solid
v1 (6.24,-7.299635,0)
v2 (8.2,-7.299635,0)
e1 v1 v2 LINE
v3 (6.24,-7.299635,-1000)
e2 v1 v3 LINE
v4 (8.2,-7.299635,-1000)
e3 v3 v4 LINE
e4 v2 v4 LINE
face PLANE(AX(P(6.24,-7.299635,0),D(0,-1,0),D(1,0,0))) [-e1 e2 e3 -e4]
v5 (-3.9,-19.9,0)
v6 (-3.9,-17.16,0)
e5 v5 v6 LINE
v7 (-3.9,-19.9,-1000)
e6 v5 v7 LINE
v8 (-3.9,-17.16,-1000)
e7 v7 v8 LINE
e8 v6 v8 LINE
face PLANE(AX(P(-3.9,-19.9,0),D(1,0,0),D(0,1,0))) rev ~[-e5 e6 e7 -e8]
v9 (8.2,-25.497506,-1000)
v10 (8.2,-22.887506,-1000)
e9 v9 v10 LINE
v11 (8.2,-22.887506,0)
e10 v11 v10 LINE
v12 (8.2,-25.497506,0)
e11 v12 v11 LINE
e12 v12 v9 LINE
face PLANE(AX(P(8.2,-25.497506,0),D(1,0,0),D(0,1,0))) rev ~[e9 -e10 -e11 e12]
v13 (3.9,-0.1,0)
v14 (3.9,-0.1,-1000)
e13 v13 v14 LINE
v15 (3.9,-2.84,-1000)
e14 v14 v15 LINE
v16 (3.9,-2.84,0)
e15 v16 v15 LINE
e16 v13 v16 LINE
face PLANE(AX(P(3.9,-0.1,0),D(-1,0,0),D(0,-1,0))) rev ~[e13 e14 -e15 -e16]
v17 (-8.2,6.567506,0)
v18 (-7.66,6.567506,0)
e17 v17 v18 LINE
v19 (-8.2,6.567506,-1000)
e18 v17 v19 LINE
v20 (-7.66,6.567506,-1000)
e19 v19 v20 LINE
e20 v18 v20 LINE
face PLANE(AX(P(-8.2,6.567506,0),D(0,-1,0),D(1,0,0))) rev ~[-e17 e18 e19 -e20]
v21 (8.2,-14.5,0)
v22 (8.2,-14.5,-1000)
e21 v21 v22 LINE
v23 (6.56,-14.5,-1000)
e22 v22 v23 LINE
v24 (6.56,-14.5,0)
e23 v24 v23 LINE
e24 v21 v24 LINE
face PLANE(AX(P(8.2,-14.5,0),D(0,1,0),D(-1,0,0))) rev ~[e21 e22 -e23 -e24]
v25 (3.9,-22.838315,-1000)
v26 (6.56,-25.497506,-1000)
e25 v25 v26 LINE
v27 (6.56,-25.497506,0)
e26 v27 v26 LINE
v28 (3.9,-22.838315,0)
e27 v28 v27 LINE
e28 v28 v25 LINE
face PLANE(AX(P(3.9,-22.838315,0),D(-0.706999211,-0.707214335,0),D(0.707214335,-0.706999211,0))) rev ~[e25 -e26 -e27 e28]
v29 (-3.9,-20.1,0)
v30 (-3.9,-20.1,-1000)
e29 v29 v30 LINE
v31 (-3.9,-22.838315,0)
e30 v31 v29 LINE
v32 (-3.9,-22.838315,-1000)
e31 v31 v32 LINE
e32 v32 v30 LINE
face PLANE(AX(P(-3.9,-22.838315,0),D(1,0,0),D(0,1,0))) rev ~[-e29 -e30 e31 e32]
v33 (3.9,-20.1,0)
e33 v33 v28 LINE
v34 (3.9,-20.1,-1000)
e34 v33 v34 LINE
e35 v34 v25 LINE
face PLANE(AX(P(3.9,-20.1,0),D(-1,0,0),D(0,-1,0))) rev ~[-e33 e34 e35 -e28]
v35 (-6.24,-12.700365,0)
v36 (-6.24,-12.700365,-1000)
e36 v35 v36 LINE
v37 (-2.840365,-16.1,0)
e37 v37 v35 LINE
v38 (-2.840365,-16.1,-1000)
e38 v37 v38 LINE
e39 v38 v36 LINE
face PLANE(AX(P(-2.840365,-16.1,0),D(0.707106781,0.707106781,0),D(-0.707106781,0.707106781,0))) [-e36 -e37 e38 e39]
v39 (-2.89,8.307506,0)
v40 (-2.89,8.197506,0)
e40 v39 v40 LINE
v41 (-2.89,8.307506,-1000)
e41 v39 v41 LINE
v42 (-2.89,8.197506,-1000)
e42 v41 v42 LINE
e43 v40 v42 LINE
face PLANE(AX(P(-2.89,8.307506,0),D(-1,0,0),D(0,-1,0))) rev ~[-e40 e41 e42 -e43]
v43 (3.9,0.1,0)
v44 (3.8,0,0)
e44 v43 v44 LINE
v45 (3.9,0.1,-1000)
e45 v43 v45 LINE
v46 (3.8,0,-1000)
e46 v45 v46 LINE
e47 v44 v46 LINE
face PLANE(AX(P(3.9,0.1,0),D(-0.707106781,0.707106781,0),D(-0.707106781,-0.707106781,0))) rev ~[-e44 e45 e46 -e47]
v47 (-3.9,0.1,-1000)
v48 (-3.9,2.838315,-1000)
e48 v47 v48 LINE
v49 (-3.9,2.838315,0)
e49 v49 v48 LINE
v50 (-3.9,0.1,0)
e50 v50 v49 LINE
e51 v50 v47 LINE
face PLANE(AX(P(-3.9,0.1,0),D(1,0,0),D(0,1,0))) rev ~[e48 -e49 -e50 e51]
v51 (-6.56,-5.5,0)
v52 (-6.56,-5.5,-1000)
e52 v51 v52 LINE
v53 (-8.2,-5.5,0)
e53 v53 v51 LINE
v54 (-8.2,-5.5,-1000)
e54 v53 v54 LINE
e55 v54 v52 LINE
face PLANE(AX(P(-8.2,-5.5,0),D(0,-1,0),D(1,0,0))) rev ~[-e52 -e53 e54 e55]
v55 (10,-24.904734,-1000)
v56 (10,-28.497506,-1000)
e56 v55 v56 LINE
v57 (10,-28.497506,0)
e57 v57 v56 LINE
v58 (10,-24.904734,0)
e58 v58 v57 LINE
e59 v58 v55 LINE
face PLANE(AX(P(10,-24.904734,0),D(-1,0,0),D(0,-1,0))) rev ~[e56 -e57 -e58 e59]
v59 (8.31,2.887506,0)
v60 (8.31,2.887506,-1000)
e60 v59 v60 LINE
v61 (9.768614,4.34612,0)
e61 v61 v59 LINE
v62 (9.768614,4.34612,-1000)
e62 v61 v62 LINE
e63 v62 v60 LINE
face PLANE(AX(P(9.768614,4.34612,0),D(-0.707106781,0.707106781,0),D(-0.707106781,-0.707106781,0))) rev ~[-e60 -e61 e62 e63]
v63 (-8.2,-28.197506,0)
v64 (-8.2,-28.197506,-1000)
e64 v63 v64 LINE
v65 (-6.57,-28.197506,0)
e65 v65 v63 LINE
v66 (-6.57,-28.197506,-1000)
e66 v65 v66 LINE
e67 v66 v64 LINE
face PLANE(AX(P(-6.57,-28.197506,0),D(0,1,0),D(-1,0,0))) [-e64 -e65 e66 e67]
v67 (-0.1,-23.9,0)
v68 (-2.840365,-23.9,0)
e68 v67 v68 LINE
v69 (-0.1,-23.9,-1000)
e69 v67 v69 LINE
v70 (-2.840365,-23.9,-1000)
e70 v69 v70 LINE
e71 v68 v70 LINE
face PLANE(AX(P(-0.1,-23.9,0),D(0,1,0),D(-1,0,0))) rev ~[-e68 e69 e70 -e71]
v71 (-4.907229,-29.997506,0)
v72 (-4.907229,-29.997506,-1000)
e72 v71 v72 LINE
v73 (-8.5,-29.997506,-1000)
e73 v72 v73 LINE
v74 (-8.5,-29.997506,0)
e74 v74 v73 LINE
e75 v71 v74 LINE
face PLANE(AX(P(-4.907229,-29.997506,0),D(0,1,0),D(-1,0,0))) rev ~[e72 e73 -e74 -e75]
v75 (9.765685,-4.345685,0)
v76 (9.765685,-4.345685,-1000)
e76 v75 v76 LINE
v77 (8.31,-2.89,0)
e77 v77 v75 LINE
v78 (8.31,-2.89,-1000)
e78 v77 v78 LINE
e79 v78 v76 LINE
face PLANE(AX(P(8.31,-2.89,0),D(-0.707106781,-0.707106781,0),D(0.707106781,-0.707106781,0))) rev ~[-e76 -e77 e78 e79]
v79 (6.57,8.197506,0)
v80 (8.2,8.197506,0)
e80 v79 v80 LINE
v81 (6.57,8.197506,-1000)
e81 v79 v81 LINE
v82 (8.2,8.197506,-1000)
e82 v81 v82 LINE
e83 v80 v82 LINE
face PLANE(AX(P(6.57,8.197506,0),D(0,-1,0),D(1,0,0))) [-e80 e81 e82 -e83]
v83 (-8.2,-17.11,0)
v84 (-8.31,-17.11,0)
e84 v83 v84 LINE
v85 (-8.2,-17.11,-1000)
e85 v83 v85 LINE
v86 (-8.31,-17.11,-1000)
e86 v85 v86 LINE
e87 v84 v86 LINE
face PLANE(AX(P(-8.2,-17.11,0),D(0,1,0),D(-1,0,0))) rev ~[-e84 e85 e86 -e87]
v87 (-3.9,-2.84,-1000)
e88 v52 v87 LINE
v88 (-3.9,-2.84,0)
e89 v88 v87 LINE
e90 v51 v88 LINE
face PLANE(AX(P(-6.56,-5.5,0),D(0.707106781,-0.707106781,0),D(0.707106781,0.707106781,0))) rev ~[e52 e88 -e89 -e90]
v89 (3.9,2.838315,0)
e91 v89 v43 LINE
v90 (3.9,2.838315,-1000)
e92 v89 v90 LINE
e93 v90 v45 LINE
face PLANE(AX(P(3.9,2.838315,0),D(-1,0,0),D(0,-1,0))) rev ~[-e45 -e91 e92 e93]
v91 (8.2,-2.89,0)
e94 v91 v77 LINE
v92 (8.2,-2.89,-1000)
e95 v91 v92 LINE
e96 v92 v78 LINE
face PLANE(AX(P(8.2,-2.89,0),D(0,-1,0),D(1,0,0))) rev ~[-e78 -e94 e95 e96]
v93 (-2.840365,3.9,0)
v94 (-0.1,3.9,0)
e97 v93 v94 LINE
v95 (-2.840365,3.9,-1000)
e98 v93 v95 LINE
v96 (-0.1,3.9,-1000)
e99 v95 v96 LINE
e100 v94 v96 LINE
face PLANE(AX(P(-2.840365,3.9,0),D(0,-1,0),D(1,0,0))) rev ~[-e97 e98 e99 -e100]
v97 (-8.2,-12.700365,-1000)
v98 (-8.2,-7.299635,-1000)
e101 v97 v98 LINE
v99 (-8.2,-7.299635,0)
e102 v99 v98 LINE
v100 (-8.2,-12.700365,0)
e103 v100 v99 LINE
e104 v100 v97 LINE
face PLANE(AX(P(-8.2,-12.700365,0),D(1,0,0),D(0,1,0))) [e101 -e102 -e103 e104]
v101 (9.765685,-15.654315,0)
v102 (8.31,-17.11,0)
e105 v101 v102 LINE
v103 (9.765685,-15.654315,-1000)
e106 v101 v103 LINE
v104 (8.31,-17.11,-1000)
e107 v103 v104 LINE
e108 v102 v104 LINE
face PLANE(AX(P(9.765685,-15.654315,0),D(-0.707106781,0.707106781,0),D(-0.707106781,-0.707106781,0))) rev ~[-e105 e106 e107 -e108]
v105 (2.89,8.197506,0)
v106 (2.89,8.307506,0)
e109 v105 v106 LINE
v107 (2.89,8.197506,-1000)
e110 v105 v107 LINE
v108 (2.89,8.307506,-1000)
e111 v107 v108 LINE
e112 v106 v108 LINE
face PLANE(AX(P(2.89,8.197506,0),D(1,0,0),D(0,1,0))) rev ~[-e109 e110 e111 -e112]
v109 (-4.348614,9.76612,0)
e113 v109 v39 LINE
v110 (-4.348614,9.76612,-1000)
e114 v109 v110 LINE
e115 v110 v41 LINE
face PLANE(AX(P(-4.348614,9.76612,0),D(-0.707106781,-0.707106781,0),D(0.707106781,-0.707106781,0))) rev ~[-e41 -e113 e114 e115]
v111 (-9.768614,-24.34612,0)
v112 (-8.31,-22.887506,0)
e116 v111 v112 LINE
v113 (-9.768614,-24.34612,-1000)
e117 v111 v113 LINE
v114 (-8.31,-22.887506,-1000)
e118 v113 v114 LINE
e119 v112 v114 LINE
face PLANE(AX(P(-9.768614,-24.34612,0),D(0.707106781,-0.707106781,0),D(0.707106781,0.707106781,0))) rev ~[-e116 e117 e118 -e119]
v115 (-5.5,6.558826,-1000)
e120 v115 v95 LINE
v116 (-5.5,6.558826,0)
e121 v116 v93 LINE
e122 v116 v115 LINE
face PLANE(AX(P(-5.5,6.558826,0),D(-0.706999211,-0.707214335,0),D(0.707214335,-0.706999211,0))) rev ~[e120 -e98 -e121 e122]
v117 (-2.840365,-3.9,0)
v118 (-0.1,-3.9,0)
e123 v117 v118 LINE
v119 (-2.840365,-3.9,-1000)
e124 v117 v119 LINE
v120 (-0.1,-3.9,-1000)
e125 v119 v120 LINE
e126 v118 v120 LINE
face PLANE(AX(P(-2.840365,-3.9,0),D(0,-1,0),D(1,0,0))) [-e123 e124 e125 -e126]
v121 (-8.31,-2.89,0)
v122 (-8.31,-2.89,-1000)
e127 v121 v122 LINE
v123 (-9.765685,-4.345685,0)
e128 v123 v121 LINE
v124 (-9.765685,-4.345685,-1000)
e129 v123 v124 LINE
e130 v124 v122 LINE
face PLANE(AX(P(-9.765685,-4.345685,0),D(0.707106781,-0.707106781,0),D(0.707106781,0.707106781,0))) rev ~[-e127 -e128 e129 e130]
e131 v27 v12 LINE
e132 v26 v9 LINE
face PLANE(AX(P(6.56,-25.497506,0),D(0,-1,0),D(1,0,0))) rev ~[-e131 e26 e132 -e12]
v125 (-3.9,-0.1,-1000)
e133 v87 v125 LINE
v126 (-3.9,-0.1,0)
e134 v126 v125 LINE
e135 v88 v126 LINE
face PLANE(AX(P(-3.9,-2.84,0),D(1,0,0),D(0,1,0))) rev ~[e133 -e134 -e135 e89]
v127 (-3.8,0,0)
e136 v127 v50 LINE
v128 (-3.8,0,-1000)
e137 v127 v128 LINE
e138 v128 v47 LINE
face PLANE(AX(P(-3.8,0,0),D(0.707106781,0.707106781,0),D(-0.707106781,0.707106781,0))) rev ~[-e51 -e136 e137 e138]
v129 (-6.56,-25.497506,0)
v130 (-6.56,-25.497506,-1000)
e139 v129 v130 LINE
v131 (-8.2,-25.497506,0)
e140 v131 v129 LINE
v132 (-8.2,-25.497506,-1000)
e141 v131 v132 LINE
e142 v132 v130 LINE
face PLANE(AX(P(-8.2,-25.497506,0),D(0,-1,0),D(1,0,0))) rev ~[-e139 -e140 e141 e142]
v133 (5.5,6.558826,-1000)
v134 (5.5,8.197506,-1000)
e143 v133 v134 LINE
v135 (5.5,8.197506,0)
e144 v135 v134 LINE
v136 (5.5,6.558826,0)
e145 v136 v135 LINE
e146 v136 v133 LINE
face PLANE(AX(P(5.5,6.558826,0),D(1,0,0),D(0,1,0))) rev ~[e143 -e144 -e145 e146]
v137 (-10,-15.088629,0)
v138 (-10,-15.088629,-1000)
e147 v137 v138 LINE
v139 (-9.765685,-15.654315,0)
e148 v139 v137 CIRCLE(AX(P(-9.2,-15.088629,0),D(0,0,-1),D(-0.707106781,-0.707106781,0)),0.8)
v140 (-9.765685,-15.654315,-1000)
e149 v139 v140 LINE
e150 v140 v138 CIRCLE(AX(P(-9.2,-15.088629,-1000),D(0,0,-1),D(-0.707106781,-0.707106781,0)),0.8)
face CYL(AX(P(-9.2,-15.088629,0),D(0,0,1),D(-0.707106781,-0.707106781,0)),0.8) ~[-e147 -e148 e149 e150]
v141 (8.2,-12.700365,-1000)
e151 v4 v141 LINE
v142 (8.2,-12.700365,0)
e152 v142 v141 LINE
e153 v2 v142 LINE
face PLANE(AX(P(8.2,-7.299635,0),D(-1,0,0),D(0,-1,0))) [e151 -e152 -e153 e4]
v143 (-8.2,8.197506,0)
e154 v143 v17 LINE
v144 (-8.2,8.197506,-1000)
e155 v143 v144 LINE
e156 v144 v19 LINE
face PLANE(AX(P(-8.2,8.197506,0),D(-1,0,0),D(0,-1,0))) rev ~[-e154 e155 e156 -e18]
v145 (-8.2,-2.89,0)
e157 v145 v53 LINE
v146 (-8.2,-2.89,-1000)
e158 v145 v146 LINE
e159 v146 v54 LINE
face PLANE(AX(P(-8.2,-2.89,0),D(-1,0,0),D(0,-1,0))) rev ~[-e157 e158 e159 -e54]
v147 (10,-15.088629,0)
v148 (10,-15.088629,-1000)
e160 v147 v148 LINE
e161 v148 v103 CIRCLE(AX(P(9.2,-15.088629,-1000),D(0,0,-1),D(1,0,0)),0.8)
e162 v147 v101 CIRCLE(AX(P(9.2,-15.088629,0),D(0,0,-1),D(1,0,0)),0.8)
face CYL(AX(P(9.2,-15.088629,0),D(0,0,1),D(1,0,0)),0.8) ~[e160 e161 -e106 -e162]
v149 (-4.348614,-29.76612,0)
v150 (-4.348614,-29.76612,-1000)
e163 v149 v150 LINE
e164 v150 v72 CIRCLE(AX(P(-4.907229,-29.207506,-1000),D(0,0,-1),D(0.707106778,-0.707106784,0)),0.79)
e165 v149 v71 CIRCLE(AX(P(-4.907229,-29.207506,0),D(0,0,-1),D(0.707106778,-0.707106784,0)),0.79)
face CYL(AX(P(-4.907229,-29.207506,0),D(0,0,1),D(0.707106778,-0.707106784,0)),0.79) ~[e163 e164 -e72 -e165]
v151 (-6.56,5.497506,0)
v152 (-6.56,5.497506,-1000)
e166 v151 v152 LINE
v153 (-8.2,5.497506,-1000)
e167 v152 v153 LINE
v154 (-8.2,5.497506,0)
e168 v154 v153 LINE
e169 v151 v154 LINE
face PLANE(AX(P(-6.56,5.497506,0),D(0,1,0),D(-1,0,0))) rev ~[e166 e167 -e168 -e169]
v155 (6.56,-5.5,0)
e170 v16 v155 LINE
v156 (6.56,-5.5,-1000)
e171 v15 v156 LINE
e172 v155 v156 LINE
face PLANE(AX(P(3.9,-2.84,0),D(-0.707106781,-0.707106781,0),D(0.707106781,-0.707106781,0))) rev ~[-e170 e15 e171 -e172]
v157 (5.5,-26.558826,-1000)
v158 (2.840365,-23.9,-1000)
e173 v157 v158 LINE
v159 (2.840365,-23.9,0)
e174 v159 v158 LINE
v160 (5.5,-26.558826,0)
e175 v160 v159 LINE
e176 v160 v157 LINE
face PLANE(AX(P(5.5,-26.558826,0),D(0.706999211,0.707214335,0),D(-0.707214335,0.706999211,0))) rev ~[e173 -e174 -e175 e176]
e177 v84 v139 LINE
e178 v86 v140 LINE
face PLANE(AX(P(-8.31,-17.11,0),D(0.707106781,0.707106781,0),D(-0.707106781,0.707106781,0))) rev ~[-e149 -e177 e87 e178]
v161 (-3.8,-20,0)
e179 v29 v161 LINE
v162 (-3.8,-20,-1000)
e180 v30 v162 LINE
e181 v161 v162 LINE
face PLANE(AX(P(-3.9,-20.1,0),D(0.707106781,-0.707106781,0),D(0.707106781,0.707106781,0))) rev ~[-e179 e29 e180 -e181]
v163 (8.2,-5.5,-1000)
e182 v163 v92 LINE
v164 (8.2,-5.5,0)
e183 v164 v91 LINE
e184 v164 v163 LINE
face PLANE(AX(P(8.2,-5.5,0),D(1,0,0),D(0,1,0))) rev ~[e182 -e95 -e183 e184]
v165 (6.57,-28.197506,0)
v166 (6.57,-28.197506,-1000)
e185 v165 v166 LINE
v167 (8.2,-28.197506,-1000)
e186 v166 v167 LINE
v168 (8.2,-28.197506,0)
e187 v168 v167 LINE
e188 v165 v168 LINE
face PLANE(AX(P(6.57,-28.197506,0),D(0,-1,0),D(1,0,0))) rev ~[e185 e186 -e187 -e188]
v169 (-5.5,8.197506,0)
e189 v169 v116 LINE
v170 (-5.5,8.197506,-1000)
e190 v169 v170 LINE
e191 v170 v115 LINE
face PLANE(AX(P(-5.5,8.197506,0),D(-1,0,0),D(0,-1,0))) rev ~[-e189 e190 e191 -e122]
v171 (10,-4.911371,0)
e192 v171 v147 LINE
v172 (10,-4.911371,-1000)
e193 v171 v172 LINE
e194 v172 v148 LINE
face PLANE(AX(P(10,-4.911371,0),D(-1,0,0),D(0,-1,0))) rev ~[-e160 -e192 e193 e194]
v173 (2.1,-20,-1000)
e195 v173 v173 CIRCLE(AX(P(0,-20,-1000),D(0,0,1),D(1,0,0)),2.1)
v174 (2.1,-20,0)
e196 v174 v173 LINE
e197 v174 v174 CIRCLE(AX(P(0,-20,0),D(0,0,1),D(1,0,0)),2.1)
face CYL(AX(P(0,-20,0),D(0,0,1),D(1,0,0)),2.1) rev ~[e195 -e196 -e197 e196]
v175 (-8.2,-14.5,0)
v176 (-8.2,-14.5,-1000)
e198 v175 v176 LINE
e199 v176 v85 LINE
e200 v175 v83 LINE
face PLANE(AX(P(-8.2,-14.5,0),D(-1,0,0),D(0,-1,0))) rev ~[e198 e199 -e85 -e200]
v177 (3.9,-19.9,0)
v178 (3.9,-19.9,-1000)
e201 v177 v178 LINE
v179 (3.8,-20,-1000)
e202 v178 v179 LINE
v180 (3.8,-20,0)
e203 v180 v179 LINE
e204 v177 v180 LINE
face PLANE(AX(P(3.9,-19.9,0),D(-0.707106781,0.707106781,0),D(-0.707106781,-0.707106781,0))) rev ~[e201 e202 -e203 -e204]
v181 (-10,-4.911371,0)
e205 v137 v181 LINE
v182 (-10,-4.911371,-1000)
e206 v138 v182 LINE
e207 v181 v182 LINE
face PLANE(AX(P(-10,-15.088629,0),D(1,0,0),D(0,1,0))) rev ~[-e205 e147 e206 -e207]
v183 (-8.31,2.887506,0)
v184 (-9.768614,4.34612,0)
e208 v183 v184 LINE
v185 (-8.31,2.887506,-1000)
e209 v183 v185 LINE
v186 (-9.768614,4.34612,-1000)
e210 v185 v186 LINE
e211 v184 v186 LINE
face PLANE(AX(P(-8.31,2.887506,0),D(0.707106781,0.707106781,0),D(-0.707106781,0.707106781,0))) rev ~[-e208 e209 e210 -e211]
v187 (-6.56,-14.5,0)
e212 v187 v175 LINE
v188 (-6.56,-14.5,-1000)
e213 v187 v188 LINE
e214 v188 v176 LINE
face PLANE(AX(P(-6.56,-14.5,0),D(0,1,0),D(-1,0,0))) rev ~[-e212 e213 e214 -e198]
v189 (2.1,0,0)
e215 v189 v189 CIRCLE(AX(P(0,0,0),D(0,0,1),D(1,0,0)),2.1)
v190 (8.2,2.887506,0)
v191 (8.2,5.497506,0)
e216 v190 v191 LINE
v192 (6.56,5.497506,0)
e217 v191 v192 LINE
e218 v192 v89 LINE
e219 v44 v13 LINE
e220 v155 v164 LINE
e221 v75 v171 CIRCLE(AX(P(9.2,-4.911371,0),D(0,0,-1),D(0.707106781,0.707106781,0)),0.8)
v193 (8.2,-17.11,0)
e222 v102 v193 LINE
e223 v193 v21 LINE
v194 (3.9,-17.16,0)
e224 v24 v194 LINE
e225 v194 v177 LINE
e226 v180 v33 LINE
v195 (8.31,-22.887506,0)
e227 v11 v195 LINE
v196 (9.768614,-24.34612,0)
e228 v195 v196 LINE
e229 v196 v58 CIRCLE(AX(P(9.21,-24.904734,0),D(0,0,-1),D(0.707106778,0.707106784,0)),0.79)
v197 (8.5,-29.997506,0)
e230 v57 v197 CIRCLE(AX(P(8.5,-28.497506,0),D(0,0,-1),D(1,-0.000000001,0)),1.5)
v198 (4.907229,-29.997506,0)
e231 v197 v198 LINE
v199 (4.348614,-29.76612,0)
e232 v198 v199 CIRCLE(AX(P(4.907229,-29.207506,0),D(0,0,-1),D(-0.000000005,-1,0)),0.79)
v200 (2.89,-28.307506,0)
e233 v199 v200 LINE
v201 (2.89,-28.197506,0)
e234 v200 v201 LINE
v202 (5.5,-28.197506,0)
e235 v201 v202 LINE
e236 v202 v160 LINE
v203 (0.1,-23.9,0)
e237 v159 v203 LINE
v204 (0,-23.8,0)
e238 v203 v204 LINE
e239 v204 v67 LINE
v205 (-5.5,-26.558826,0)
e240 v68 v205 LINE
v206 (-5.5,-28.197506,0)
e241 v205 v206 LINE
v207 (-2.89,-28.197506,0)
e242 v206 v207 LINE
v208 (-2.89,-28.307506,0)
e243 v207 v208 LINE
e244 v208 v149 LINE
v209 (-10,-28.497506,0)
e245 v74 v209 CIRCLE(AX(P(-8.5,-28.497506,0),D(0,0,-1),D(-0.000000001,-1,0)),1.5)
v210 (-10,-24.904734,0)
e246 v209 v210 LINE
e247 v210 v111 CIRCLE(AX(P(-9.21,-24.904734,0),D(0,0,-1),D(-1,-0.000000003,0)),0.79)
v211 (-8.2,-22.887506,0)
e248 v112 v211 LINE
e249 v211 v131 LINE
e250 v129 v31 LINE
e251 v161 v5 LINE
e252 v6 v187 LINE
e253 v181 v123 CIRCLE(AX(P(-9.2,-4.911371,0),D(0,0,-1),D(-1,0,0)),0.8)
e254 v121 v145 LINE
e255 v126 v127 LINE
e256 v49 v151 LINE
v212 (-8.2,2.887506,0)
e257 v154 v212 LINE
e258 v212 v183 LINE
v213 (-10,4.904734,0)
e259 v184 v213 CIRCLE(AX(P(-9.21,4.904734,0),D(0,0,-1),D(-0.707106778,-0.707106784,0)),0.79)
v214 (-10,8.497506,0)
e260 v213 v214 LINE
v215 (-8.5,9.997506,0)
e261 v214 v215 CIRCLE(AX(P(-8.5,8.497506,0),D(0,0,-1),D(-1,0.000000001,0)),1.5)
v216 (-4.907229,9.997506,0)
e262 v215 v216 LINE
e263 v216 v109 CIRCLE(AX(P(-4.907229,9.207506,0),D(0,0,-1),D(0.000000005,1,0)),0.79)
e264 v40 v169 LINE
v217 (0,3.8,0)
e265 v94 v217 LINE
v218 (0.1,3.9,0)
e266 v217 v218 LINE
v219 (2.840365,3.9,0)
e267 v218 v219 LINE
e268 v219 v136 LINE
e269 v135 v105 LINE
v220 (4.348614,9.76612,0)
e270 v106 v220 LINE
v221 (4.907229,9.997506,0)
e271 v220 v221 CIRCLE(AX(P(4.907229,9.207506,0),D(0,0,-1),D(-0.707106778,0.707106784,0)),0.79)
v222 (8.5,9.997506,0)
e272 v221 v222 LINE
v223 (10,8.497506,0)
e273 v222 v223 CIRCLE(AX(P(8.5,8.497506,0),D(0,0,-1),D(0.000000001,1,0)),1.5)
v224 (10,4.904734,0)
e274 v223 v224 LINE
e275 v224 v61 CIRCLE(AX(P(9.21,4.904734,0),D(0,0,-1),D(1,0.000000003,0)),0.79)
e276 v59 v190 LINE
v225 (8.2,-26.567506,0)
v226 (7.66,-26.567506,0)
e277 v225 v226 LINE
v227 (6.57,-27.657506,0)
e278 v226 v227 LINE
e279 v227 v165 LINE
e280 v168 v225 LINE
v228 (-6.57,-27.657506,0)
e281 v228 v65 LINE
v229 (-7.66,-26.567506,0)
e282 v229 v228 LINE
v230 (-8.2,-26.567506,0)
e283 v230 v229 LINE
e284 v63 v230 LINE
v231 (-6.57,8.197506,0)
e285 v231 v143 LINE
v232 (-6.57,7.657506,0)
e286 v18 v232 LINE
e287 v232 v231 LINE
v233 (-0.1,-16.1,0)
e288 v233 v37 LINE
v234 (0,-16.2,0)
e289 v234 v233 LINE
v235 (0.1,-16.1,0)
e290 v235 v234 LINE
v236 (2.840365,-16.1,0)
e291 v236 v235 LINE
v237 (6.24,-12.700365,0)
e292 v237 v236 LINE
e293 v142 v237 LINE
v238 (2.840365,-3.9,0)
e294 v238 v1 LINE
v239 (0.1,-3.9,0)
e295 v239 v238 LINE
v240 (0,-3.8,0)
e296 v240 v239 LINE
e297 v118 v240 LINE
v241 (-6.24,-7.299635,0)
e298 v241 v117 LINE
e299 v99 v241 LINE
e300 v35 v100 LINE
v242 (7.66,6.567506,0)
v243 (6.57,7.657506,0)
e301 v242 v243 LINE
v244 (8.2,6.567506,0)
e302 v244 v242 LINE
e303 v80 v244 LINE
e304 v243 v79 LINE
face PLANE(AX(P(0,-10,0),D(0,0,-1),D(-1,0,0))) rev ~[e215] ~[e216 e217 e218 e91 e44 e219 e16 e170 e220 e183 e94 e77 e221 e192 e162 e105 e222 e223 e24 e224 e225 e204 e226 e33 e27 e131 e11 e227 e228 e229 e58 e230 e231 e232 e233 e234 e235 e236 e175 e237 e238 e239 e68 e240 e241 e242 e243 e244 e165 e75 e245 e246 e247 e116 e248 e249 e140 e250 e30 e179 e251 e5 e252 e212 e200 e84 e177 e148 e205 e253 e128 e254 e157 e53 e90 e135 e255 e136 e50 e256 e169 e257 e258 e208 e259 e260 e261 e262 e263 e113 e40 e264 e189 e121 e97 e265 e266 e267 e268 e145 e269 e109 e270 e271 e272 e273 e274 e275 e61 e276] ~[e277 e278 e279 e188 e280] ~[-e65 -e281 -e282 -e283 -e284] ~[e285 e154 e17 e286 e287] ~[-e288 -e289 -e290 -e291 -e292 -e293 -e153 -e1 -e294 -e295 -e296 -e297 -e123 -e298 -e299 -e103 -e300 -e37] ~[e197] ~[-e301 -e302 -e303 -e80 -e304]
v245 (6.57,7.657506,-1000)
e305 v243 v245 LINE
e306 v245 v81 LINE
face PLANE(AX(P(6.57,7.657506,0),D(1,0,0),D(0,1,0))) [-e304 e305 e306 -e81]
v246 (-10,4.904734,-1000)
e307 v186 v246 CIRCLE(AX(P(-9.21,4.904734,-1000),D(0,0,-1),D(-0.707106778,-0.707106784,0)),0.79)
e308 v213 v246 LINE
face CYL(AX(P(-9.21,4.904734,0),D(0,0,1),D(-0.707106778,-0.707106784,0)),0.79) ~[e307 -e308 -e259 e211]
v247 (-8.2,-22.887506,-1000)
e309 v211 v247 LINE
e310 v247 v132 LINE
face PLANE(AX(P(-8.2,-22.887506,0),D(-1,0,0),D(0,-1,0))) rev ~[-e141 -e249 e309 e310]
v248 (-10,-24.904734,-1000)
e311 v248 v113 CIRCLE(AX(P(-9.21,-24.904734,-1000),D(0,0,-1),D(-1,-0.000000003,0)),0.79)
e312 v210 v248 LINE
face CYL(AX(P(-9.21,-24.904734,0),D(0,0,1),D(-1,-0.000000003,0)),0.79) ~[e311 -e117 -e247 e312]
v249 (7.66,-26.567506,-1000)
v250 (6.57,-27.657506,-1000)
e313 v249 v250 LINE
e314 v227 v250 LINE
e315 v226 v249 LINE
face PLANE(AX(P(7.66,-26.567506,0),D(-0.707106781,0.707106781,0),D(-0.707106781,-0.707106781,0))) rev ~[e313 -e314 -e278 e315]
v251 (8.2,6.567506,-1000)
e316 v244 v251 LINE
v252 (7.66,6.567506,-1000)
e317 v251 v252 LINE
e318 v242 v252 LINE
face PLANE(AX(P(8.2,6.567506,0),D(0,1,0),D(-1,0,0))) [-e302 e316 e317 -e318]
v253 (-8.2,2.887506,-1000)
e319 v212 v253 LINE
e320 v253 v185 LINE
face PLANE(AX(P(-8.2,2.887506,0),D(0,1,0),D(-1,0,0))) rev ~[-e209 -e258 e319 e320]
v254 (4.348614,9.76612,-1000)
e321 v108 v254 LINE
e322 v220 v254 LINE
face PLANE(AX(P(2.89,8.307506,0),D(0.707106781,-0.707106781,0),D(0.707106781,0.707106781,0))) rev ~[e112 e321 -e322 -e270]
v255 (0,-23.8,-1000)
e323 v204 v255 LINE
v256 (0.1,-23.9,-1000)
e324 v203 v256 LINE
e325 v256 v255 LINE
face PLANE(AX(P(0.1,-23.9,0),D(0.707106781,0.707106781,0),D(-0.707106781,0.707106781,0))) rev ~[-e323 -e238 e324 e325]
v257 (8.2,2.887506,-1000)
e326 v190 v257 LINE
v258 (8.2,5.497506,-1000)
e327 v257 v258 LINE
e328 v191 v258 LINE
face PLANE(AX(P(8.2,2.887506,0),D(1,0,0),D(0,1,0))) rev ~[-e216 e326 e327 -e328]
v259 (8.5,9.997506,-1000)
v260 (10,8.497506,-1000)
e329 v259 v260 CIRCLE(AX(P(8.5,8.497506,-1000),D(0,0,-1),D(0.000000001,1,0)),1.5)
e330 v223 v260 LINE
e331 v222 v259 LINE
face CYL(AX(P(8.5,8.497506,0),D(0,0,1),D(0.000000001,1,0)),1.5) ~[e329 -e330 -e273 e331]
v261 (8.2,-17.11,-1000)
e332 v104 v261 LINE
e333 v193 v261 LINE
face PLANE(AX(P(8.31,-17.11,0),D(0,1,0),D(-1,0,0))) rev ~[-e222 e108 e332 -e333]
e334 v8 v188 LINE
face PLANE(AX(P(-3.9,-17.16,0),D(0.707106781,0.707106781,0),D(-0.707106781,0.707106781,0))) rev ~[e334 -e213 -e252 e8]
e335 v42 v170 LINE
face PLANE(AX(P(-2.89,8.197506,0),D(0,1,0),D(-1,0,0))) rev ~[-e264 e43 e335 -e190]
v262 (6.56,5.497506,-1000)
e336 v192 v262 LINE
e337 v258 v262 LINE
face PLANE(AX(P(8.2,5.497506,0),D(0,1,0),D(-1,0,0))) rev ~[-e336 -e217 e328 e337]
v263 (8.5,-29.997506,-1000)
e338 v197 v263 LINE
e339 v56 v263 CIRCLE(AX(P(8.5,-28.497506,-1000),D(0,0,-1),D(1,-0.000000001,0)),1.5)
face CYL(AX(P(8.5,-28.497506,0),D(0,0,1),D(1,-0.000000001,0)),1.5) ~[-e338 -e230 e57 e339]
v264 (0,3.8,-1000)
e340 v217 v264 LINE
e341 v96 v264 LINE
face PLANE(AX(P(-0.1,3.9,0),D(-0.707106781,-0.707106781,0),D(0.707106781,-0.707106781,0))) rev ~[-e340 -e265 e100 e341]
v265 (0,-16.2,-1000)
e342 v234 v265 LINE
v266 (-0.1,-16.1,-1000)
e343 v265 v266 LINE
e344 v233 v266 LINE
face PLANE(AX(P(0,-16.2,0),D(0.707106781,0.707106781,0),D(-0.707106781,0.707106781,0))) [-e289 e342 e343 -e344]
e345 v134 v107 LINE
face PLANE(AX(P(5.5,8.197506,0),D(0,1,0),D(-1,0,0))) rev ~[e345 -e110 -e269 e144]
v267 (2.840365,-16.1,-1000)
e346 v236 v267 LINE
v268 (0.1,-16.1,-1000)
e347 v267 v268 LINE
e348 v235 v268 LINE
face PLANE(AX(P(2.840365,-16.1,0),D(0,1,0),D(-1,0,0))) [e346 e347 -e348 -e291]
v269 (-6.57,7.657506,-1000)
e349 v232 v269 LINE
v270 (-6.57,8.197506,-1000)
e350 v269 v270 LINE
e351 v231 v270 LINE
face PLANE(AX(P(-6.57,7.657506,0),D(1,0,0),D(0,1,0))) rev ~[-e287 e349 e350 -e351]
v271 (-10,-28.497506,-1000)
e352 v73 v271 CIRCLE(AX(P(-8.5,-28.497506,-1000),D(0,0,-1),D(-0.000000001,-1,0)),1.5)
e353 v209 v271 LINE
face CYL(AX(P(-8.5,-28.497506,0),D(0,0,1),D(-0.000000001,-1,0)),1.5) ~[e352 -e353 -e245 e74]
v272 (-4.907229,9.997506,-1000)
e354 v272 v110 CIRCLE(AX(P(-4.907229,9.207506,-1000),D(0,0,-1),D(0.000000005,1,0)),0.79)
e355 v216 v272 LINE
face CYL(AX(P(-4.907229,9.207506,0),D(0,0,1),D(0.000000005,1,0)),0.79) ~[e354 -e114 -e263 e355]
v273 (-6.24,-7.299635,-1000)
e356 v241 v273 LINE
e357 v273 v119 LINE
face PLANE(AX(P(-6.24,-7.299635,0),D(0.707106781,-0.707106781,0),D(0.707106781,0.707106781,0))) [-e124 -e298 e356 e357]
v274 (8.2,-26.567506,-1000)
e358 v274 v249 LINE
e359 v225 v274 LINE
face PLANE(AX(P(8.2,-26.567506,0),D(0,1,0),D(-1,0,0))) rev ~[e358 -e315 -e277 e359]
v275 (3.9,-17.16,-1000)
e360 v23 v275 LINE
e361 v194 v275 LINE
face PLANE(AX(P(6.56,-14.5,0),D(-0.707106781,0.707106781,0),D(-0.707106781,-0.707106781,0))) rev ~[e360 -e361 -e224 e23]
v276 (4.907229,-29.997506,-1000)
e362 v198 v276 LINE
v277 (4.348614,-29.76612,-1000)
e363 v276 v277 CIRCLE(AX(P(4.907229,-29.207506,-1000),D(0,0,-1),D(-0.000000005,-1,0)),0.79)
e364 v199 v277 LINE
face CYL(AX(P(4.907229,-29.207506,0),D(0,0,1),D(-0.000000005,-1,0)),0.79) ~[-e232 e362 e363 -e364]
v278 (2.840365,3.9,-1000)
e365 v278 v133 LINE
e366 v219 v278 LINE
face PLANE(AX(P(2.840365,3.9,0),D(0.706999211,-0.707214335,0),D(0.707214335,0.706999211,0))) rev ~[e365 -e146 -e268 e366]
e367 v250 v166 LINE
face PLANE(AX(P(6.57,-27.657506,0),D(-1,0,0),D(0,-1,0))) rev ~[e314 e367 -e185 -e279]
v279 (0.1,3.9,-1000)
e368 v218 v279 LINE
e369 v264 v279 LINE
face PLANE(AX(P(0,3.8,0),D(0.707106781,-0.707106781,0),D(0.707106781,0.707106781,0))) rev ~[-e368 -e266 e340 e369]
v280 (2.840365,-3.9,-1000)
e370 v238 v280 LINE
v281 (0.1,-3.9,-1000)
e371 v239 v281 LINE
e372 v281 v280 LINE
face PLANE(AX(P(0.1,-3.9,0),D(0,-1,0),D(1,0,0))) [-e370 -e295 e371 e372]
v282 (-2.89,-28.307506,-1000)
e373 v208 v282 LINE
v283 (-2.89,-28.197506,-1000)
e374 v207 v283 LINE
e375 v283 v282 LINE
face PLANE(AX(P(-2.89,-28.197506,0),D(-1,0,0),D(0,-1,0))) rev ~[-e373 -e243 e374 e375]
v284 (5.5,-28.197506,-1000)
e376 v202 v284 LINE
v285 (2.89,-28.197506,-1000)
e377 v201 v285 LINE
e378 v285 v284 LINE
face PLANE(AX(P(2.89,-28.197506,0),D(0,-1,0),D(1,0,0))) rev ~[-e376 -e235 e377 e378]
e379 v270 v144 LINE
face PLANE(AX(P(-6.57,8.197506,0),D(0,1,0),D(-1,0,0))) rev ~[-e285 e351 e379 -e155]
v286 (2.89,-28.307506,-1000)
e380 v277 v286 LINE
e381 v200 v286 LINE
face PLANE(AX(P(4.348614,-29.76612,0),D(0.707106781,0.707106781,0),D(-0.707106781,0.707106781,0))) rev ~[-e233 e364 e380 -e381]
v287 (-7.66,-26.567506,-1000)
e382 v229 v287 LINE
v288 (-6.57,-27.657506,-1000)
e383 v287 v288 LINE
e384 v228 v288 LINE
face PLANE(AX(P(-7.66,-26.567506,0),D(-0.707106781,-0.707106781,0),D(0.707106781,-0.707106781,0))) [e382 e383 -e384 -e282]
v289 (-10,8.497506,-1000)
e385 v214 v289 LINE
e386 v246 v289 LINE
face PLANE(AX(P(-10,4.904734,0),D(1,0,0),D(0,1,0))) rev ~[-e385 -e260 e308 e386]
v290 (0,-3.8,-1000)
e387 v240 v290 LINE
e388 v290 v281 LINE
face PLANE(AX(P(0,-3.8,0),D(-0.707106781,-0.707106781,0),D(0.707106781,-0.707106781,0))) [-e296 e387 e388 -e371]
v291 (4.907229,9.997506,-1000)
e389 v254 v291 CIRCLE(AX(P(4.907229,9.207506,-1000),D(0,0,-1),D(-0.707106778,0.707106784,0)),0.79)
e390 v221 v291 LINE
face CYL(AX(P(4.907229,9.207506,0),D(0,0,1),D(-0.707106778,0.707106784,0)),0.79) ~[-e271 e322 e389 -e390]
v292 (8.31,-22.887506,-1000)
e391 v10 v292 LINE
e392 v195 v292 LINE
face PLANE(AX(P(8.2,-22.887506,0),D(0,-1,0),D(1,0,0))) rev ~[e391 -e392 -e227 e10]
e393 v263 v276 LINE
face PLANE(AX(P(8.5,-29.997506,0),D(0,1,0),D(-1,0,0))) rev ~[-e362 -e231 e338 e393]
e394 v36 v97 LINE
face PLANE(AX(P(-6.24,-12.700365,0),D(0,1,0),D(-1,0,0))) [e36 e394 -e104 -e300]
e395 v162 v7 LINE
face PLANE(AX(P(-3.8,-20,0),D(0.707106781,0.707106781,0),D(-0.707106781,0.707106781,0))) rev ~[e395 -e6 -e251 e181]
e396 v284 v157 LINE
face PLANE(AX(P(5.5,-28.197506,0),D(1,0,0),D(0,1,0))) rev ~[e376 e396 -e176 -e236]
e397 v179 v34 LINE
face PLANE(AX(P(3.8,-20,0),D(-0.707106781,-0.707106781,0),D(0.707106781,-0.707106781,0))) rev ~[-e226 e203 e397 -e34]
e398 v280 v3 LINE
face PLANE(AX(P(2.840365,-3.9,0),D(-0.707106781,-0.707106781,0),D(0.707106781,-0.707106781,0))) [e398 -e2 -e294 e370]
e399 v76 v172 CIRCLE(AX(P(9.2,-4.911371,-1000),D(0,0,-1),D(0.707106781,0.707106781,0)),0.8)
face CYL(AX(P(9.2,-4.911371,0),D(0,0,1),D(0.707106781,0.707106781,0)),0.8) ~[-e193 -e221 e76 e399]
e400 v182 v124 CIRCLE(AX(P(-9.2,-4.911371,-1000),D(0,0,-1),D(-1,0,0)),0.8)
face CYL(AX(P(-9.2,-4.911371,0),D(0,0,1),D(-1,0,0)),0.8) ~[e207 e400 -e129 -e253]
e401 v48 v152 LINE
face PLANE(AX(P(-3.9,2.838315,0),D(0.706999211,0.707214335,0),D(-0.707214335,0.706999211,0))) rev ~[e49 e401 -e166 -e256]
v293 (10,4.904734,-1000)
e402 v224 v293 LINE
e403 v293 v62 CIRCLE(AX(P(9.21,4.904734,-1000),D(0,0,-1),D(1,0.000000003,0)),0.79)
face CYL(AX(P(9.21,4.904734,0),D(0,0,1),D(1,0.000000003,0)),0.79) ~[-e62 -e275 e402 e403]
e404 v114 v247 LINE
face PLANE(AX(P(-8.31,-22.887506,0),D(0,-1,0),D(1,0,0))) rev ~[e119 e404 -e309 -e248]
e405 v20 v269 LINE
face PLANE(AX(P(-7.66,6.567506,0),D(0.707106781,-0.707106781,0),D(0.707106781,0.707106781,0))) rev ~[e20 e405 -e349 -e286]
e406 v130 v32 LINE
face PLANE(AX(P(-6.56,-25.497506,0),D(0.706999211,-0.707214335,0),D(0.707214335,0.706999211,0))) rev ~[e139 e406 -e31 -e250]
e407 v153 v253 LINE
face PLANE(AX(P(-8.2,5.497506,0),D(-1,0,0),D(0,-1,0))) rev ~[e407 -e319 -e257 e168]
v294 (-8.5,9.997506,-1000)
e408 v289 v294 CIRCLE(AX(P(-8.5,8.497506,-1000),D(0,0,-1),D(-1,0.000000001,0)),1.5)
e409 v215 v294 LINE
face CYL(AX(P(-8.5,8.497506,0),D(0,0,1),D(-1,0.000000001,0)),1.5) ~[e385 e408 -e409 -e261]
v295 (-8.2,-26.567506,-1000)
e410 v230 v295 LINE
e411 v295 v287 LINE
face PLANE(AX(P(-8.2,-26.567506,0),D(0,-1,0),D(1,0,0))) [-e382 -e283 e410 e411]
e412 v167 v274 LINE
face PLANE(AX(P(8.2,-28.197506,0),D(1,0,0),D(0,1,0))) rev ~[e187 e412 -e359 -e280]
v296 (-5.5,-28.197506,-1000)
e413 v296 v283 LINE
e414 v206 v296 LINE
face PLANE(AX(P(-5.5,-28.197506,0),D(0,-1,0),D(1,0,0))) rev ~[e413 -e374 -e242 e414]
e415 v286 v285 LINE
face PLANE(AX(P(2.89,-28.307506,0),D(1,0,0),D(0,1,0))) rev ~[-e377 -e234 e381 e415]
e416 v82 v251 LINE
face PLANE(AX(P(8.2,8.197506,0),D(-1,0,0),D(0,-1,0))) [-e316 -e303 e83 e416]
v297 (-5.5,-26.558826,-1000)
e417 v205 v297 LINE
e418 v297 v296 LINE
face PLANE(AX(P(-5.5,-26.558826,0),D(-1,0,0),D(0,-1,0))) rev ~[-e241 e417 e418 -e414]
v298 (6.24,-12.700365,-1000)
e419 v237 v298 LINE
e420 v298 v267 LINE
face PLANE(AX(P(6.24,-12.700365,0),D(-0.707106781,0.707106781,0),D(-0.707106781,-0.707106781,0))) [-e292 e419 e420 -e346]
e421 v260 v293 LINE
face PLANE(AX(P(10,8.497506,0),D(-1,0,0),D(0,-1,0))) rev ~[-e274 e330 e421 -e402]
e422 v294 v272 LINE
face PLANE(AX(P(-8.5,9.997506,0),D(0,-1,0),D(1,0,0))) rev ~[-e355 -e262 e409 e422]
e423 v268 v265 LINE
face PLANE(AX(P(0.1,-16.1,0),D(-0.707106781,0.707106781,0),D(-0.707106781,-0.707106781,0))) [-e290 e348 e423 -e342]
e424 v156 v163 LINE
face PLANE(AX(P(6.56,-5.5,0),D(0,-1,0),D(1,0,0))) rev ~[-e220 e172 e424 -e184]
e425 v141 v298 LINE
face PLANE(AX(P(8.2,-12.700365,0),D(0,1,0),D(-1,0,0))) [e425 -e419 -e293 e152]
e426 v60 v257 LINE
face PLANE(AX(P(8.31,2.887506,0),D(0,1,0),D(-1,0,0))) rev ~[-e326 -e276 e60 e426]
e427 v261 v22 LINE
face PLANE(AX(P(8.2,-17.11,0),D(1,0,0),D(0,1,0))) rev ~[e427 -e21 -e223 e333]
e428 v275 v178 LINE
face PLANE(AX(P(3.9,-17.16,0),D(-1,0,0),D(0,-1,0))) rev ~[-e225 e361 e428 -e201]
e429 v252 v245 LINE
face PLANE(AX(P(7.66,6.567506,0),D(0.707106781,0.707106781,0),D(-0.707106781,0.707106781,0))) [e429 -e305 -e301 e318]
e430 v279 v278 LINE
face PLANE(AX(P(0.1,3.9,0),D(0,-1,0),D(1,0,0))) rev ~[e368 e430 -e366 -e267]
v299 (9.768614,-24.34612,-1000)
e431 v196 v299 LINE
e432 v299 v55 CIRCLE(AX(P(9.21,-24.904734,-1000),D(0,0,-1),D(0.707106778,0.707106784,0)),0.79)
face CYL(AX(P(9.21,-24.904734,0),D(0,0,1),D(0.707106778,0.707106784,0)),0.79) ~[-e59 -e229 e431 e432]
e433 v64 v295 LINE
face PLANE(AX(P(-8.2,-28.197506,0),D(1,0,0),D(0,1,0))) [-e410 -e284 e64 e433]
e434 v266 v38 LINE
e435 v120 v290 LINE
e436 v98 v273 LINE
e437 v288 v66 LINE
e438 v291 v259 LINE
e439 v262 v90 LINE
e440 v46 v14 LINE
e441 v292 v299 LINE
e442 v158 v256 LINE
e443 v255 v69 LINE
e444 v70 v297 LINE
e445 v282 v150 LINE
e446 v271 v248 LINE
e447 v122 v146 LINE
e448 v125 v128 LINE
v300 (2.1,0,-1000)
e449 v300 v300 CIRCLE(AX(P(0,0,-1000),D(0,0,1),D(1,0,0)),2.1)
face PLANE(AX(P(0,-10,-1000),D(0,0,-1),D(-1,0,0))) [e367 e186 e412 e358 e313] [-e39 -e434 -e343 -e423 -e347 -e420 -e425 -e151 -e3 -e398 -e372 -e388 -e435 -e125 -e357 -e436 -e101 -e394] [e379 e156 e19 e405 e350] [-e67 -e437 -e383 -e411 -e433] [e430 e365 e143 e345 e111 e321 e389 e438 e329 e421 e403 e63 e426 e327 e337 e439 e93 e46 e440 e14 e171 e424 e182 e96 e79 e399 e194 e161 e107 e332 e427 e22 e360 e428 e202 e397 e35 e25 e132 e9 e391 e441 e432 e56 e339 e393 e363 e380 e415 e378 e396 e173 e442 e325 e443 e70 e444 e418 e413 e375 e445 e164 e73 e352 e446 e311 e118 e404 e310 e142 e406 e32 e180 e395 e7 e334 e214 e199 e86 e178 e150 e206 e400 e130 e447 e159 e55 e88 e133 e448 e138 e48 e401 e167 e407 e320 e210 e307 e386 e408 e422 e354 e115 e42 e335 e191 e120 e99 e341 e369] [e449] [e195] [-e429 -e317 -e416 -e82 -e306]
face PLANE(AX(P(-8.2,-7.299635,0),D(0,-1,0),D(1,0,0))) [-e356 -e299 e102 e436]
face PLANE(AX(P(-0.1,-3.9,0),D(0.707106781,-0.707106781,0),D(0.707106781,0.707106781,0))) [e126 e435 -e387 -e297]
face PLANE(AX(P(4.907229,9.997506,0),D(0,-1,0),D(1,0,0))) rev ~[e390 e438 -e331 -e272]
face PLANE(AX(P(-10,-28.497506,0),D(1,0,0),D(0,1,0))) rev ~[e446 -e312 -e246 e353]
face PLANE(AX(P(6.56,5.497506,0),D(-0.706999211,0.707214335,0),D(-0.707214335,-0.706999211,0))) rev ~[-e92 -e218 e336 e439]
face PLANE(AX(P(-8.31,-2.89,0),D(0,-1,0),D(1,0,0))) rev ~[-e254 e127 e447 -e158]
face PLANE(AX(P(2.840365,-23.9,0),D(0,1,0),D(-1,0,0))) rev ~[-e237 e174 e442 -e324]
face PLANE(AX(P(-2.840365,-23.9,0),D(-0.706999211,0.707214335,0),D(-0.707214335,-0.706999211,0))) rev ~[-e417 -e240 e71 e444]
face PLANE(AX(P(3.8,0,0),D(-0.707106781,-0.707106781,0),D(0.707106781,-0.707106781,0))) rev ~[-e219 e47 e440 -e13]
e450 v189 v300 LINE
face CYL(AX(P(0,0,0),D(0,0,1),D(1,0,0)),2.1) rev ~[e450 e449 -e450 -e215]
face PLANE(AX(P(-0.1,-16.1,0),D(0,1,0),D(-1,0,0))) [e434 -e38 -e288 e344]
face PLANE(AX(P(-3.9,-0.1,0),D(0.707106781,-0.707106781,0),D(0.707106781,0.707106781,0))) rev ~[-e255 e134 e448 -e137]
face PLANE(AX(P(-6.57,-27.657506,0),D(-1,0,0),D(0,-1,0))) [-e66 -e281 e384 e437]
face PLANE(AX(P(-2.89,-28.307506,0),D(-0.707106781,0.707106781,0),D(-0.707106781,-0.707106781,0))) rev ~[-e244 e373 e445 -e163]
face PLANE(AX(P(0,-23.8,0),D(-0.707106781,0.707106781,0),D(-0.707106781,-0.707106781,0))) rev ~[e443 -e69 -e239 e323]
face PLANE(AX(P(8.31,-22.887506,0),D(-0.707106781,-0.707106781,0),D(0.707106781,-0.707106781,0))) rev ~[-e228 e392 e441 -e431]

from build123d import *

# Parameters (mm, degrees)
SKETCH2_R           = 2.1
BOSS_EXTRUDE1_DEPTH = 1000


with BuildPart() as part:
    # Sketch2 → Boss-Extrude1 (new body)
    with BuildSketch(Plane.XY):
        with BuildLine():
            Line((-0.1, 3.9), (0, 3.8))
            Line((0, 3.8), (0.1, 3.9))
            Line((0.1, 3.9), (2.840365134, 3.9))
            Line((2.840365134, 3.9), (5.5, 6.558825842))
            Line((5.5, 6.558825842), (5.5, 8.197505675))
            Line((5.5, 8.197505675), (2.89, 8.197505675))
            Line((2.89, 8.197505675), (2.89, 8.307505675))
            Line((2.89, 8.307505675), (4.348614357, 9.766120032))
            ThreePointArc((4.348614357, 9.766120032), (4.604908803, 9.937370505), (4.907228714, 9.997505675))
            Line((4.907228714, 9.997505675), (8.5, 9.997505675))
            ThreePointArc((8.5, 9.997505675), (9.560660172, 9.558165846), (10, 8.497505675))
            Line((10, 8.497505675), (10, 4.904734389))
            ThreePointArc((10, 4.904734389), (9.939864831, 4.602414477), (9.768614357, 4.346120032))
            Line((9.768614357, 4.346120032), (8.31, 2.887505675))
            Line((8.31, 2.887505675), (8.2, 2.887505675))
            Line((8.2, 2.887505675), (8.2, 5.497505675))
            Line((8.2, 5.497505675), (6.56, 5.497505675))
            Line((6.56, 5.497505675), (3.9, 2.83831481))
            Line((3.9, 2.83831481), (3.9, 0.1))
            Line((3.9, 0.1), (3.8, 0))
            Line((3.8, 0), (3.9, -0.1))
            Line((3.9, -0.1), (3.9, -2.84))
            Line((3.9, -2.84), (6.56, -5.5))
            Line((6.56, -5.5), (8.2, -5.5))
            Line((8.2, -5.5), (8.2, -2.89))
            Line((8.2, -2.89), (8.31, -2.89))
            Line((8.31, -2.89), (9.765685425, -4.345685425))
            ThreePointArc((9.765685425, -4.345685425), (9.939103626, -4.605224104), (10, -4.91137085))
            Line((10, -4.91137085), (10, -15.08862915))
            ThreePointArc((10, -15.08862915), (9.939103626, -15.394775896), (9.765685425, -15.654314575))
            Line((9.765685425, -15.654314575), (8.31, -17.11))
            Line((8.31, -17.11), (8.2, -17.11))
            Line((8.2, -17.11), (8.2, -14.5))
            Line((8.2, -14.5), (6.56, -14.5))
            Line((6.56, -14.5), (3.9, -17.16))
            Line((3.9, -17.16), (3.9, -19.9))
            Line((3.9, -19.9), (3.8, -20))
            Line((3.8, -20), (3.9, -20.1))
            Line((3.9, -20.1), (3.9, -22.83831481))
            Line((3.9, -22.83831481), (6.56, -25.497505675))
            Line((6.56, -25.497505675), (8.2, -25.497505675))
            Line((8.2, -25.497505675), (8.2, -22.887505675))
            Line((8.2, -22.887505675), (8.31, -22.887505675))
            Line((8.31, -22.887505675), (9.768614357, -24.346120032))
            ThreePointArc((9.768614357, -24.346120032), (9.939864831, -24.602414477), (10, -24.904734389))
            Line((10, -24.904734389), (10, -28.497505675))
            ThreePointArc((10, -28.497505675), (9.560660172, -29.558165846), (8.5, -29.997505675))
            Line((8.5, -29.997505675), (4.907228714, -29.997505675))
            ThreePointArc((4.907228714, -29.997505675), (4.604908803, -29.937370505), (4.348614357, -29.766120032))
            Line((4.348614357, -29.766120032), (2.89, -28.307505675))
            Line((2.89, -28.307505675), (2.89, -28.197505675))
            Line((2.89, -28.197505675), (5.5, -28.197505675))
            Line((5.5, -28.197505675), (5.5, -26.558825842))
            Line((5.5, -26.558825842), (2.840365134, -23.9))
            Line((2.840365134, -23.9), (0.1, -23.9))
            Line((0.1, -23.9), (0, -23.8))
            Line((0, -23.8), (-0.1, -23.9))
            Line((-0.1, -23.9), (-2.840365134, -23.9))
            Line((-2.840365134, -23.9), (-5.5, -26.558825842))
            Line((-5.5, -26.558825842), (-5.5, -28.197505675))
            Line((-5.5, -28.197505675), (-2.89, -28.197505675))
            Line((-2.89, -28.197505675), (-2.89, -28.307505675))
            Line((-2.89, -28.307505675), (-4.348614357, -29.766120032))
            ThreePointArc((-4.348614357, -29.766120032), (-4.604908803, -29.937370505), (-4.907228714, -29.997505675))
            Line((-4.907228714, -29.997505675), (-8.5, -29.997505675))
            ThreePointArc((-8.5, -29.997505675), (-9.560660172, -29.558165846), (-10, -28.497505675))
            Line((-10, -28.497505675), (-10, -24.904734389))
            ThreePointArc((-10, -24.904734389), (-9.939864831, -24.602414477), (-9.768614357, -24.346120032))
            Line((-9.768614357, -24.346120032), (-8.31, -22.887505675))
            Line((-8.31, -22.887505675), (-8.2, -22.887505675))
            Line((-8.2, -22.887505675), (-8.2, -25.497505675))
            Line((-8.2, -25.497505675), (-6.56, -25.497505675))
            Line((-6.56, -25.497505675), (-3.9, -22.83831481))
            Line((-3.9, -22.83831481), (-3.9, -20.1))
            Line((-3.9, -20.1), (-3.8, -20))
            Line((-3.8, -20), (-3.9, -19.9))
            Line((-3.9, -19.9), (-3.9, -17.16))
            Line((-3.9, -17.16), (-6.56, -14.5))
            Line((-6.56, -14.5), (-8.2, -14.5))
            Line((-8.2, -14.5), (-8.2, -17.11))
            Line((-8.2, -17.11), (-8.31, -17.11))
            Line((-8.31, -17.11), (-9.765685425, -15.654314575))
            ThreePointArc((-9.765685425, -15.654314575), (-9.939103626, -15.394775896), (-10, -15.08862915))
            Line((-10, -15.08862915), (-10, -4.91137085))
            ThreePointArc((-10, -4.91137085), (-9.939103626, -4.605224104), (-9.765685425, -4.345685425))
            Line((-9.765685425, -4.345685425), (-8.31, -2.89))
            Line((-8.31, -2.89), (-8.2, -2.89))
            Line((-8.2, -2.89), (-8.2, -5.5))
            Line((-8.2, -5.5), (-6.56, -5.5))
            Line((-6.56, -5.5), (-3.9, -2.84))
            Line((-3.9, -2.84), (-3.9, -0.1))
            Line((-3.9, -0.1), (-3.8, 0))
            Line((-3.8, 0), (-3.9, 0.1))
            Line((-3.9, 0.1), (-3.9, 2.83831481))
            Line((-3.9, 2.83831481), (-6.56, 5.497505675))
            Line((-6.56, 5.497505675), (-8.2, 5.497505675))
            Line((-8.2, 5.497505675), (-8.2, 2.887505675))
            Line((-8.2, 2.887505675), (-8.31, 2.887505675))
            Line((-8.31, 2.887505675), (-9.768614357, 4.346120032))
            ThreePointArc((-9.768614357, 4.346120032), (-9.939864831, 4.602414477), (-10, 4.904734389))
            Line((-10, 4.904734389), (-10, 8.497505675))
            ThreePointArc((-10, 8.497505675), (-9.560660172, 9.558165846), (-8.5, 9.997505675))
            Line((-8.5, 9.997505675), (-4.907228714, 9.997505675))
            ThreePointArc((-4.907228714, 9.997505675), (-4.604908803, 9.937370505), (-4.348614357, 9.766120032))
            Line((-4.348614357, 9.766120032), (-2.89, 8.307505675))
            Line((-2.89, 8.307505675), (-2.89, 8.197505675))
            Line((-2.89, 8.197505675), (-5.5, 8.197505675))
            Line((-5.5, 8.197505675), (-5.5, 6.558825842))
            Line((-5.5, 6.558825842), (-2.840365134, 3.9))
            Line((-2.840365134, 3.9), (-0.1, 3.9))
        make_face()
        Circle(SKETCH2_R, mode=Mode.SUBTRACT)
        with Locations((0, -20)):
            Circle(SKETCH2_R, mode=Mode.SUBTRACT)
        Polygon((-7.66, 6.567505675), (-6.57, 7.657505675), (-6.57, 8.197505675), (-8.2, 8.197505675), (-8.2, 6.567505675), align=None, mode=Mode.SUBTRACT)
        Polygon((-0.1, -3.9), (0, -3.8), (0.1, -3.9), (2.840365134, -3.9), (6.24, -7.299634866), (8.2, -7.299634866), (8.2, -12.700365134), (6.24, -12.700365134), (2.840365134, -16.1), (0.1, -16.1), (0, -16.2), (-0.1, -16.1), (-2.840365134, -16.1), (-6.24, -12.700365134), (-8.2, -12.700365134), (-8.2, -7.299634866), (-6.24, -7.299634866), (-2.840365134, -3.9), align=None, mode=Mode.SUBTRACT)
        Polygon((8.2, 6.567505675), (7.66, 6.567505675), (6.57, 7.657505675), (6.57, 8.197505675), (8.2, 8.197505675), align=None, mode=Mode.SUBTRACT)
        Polygon((7.66, -26.567505675), (6.57, -27.657505675), (6.57, -28.197505675), (8.2, -28.197505675), (8.2, -26.567505675), align=None, mode=Mode.SUBTRACT)
        Polygon((-8.2, -26.567505675), (-7.66, -26.567505675), (-6.57, -27.657505675), (-6.57, -28.197505675), (-8.2, -28.197505675), align=None, mode=Mode.SUBTRACT)
    extrude(amount=-BOSS_EXTRUDE1_DEPTH)


solid = part.part
